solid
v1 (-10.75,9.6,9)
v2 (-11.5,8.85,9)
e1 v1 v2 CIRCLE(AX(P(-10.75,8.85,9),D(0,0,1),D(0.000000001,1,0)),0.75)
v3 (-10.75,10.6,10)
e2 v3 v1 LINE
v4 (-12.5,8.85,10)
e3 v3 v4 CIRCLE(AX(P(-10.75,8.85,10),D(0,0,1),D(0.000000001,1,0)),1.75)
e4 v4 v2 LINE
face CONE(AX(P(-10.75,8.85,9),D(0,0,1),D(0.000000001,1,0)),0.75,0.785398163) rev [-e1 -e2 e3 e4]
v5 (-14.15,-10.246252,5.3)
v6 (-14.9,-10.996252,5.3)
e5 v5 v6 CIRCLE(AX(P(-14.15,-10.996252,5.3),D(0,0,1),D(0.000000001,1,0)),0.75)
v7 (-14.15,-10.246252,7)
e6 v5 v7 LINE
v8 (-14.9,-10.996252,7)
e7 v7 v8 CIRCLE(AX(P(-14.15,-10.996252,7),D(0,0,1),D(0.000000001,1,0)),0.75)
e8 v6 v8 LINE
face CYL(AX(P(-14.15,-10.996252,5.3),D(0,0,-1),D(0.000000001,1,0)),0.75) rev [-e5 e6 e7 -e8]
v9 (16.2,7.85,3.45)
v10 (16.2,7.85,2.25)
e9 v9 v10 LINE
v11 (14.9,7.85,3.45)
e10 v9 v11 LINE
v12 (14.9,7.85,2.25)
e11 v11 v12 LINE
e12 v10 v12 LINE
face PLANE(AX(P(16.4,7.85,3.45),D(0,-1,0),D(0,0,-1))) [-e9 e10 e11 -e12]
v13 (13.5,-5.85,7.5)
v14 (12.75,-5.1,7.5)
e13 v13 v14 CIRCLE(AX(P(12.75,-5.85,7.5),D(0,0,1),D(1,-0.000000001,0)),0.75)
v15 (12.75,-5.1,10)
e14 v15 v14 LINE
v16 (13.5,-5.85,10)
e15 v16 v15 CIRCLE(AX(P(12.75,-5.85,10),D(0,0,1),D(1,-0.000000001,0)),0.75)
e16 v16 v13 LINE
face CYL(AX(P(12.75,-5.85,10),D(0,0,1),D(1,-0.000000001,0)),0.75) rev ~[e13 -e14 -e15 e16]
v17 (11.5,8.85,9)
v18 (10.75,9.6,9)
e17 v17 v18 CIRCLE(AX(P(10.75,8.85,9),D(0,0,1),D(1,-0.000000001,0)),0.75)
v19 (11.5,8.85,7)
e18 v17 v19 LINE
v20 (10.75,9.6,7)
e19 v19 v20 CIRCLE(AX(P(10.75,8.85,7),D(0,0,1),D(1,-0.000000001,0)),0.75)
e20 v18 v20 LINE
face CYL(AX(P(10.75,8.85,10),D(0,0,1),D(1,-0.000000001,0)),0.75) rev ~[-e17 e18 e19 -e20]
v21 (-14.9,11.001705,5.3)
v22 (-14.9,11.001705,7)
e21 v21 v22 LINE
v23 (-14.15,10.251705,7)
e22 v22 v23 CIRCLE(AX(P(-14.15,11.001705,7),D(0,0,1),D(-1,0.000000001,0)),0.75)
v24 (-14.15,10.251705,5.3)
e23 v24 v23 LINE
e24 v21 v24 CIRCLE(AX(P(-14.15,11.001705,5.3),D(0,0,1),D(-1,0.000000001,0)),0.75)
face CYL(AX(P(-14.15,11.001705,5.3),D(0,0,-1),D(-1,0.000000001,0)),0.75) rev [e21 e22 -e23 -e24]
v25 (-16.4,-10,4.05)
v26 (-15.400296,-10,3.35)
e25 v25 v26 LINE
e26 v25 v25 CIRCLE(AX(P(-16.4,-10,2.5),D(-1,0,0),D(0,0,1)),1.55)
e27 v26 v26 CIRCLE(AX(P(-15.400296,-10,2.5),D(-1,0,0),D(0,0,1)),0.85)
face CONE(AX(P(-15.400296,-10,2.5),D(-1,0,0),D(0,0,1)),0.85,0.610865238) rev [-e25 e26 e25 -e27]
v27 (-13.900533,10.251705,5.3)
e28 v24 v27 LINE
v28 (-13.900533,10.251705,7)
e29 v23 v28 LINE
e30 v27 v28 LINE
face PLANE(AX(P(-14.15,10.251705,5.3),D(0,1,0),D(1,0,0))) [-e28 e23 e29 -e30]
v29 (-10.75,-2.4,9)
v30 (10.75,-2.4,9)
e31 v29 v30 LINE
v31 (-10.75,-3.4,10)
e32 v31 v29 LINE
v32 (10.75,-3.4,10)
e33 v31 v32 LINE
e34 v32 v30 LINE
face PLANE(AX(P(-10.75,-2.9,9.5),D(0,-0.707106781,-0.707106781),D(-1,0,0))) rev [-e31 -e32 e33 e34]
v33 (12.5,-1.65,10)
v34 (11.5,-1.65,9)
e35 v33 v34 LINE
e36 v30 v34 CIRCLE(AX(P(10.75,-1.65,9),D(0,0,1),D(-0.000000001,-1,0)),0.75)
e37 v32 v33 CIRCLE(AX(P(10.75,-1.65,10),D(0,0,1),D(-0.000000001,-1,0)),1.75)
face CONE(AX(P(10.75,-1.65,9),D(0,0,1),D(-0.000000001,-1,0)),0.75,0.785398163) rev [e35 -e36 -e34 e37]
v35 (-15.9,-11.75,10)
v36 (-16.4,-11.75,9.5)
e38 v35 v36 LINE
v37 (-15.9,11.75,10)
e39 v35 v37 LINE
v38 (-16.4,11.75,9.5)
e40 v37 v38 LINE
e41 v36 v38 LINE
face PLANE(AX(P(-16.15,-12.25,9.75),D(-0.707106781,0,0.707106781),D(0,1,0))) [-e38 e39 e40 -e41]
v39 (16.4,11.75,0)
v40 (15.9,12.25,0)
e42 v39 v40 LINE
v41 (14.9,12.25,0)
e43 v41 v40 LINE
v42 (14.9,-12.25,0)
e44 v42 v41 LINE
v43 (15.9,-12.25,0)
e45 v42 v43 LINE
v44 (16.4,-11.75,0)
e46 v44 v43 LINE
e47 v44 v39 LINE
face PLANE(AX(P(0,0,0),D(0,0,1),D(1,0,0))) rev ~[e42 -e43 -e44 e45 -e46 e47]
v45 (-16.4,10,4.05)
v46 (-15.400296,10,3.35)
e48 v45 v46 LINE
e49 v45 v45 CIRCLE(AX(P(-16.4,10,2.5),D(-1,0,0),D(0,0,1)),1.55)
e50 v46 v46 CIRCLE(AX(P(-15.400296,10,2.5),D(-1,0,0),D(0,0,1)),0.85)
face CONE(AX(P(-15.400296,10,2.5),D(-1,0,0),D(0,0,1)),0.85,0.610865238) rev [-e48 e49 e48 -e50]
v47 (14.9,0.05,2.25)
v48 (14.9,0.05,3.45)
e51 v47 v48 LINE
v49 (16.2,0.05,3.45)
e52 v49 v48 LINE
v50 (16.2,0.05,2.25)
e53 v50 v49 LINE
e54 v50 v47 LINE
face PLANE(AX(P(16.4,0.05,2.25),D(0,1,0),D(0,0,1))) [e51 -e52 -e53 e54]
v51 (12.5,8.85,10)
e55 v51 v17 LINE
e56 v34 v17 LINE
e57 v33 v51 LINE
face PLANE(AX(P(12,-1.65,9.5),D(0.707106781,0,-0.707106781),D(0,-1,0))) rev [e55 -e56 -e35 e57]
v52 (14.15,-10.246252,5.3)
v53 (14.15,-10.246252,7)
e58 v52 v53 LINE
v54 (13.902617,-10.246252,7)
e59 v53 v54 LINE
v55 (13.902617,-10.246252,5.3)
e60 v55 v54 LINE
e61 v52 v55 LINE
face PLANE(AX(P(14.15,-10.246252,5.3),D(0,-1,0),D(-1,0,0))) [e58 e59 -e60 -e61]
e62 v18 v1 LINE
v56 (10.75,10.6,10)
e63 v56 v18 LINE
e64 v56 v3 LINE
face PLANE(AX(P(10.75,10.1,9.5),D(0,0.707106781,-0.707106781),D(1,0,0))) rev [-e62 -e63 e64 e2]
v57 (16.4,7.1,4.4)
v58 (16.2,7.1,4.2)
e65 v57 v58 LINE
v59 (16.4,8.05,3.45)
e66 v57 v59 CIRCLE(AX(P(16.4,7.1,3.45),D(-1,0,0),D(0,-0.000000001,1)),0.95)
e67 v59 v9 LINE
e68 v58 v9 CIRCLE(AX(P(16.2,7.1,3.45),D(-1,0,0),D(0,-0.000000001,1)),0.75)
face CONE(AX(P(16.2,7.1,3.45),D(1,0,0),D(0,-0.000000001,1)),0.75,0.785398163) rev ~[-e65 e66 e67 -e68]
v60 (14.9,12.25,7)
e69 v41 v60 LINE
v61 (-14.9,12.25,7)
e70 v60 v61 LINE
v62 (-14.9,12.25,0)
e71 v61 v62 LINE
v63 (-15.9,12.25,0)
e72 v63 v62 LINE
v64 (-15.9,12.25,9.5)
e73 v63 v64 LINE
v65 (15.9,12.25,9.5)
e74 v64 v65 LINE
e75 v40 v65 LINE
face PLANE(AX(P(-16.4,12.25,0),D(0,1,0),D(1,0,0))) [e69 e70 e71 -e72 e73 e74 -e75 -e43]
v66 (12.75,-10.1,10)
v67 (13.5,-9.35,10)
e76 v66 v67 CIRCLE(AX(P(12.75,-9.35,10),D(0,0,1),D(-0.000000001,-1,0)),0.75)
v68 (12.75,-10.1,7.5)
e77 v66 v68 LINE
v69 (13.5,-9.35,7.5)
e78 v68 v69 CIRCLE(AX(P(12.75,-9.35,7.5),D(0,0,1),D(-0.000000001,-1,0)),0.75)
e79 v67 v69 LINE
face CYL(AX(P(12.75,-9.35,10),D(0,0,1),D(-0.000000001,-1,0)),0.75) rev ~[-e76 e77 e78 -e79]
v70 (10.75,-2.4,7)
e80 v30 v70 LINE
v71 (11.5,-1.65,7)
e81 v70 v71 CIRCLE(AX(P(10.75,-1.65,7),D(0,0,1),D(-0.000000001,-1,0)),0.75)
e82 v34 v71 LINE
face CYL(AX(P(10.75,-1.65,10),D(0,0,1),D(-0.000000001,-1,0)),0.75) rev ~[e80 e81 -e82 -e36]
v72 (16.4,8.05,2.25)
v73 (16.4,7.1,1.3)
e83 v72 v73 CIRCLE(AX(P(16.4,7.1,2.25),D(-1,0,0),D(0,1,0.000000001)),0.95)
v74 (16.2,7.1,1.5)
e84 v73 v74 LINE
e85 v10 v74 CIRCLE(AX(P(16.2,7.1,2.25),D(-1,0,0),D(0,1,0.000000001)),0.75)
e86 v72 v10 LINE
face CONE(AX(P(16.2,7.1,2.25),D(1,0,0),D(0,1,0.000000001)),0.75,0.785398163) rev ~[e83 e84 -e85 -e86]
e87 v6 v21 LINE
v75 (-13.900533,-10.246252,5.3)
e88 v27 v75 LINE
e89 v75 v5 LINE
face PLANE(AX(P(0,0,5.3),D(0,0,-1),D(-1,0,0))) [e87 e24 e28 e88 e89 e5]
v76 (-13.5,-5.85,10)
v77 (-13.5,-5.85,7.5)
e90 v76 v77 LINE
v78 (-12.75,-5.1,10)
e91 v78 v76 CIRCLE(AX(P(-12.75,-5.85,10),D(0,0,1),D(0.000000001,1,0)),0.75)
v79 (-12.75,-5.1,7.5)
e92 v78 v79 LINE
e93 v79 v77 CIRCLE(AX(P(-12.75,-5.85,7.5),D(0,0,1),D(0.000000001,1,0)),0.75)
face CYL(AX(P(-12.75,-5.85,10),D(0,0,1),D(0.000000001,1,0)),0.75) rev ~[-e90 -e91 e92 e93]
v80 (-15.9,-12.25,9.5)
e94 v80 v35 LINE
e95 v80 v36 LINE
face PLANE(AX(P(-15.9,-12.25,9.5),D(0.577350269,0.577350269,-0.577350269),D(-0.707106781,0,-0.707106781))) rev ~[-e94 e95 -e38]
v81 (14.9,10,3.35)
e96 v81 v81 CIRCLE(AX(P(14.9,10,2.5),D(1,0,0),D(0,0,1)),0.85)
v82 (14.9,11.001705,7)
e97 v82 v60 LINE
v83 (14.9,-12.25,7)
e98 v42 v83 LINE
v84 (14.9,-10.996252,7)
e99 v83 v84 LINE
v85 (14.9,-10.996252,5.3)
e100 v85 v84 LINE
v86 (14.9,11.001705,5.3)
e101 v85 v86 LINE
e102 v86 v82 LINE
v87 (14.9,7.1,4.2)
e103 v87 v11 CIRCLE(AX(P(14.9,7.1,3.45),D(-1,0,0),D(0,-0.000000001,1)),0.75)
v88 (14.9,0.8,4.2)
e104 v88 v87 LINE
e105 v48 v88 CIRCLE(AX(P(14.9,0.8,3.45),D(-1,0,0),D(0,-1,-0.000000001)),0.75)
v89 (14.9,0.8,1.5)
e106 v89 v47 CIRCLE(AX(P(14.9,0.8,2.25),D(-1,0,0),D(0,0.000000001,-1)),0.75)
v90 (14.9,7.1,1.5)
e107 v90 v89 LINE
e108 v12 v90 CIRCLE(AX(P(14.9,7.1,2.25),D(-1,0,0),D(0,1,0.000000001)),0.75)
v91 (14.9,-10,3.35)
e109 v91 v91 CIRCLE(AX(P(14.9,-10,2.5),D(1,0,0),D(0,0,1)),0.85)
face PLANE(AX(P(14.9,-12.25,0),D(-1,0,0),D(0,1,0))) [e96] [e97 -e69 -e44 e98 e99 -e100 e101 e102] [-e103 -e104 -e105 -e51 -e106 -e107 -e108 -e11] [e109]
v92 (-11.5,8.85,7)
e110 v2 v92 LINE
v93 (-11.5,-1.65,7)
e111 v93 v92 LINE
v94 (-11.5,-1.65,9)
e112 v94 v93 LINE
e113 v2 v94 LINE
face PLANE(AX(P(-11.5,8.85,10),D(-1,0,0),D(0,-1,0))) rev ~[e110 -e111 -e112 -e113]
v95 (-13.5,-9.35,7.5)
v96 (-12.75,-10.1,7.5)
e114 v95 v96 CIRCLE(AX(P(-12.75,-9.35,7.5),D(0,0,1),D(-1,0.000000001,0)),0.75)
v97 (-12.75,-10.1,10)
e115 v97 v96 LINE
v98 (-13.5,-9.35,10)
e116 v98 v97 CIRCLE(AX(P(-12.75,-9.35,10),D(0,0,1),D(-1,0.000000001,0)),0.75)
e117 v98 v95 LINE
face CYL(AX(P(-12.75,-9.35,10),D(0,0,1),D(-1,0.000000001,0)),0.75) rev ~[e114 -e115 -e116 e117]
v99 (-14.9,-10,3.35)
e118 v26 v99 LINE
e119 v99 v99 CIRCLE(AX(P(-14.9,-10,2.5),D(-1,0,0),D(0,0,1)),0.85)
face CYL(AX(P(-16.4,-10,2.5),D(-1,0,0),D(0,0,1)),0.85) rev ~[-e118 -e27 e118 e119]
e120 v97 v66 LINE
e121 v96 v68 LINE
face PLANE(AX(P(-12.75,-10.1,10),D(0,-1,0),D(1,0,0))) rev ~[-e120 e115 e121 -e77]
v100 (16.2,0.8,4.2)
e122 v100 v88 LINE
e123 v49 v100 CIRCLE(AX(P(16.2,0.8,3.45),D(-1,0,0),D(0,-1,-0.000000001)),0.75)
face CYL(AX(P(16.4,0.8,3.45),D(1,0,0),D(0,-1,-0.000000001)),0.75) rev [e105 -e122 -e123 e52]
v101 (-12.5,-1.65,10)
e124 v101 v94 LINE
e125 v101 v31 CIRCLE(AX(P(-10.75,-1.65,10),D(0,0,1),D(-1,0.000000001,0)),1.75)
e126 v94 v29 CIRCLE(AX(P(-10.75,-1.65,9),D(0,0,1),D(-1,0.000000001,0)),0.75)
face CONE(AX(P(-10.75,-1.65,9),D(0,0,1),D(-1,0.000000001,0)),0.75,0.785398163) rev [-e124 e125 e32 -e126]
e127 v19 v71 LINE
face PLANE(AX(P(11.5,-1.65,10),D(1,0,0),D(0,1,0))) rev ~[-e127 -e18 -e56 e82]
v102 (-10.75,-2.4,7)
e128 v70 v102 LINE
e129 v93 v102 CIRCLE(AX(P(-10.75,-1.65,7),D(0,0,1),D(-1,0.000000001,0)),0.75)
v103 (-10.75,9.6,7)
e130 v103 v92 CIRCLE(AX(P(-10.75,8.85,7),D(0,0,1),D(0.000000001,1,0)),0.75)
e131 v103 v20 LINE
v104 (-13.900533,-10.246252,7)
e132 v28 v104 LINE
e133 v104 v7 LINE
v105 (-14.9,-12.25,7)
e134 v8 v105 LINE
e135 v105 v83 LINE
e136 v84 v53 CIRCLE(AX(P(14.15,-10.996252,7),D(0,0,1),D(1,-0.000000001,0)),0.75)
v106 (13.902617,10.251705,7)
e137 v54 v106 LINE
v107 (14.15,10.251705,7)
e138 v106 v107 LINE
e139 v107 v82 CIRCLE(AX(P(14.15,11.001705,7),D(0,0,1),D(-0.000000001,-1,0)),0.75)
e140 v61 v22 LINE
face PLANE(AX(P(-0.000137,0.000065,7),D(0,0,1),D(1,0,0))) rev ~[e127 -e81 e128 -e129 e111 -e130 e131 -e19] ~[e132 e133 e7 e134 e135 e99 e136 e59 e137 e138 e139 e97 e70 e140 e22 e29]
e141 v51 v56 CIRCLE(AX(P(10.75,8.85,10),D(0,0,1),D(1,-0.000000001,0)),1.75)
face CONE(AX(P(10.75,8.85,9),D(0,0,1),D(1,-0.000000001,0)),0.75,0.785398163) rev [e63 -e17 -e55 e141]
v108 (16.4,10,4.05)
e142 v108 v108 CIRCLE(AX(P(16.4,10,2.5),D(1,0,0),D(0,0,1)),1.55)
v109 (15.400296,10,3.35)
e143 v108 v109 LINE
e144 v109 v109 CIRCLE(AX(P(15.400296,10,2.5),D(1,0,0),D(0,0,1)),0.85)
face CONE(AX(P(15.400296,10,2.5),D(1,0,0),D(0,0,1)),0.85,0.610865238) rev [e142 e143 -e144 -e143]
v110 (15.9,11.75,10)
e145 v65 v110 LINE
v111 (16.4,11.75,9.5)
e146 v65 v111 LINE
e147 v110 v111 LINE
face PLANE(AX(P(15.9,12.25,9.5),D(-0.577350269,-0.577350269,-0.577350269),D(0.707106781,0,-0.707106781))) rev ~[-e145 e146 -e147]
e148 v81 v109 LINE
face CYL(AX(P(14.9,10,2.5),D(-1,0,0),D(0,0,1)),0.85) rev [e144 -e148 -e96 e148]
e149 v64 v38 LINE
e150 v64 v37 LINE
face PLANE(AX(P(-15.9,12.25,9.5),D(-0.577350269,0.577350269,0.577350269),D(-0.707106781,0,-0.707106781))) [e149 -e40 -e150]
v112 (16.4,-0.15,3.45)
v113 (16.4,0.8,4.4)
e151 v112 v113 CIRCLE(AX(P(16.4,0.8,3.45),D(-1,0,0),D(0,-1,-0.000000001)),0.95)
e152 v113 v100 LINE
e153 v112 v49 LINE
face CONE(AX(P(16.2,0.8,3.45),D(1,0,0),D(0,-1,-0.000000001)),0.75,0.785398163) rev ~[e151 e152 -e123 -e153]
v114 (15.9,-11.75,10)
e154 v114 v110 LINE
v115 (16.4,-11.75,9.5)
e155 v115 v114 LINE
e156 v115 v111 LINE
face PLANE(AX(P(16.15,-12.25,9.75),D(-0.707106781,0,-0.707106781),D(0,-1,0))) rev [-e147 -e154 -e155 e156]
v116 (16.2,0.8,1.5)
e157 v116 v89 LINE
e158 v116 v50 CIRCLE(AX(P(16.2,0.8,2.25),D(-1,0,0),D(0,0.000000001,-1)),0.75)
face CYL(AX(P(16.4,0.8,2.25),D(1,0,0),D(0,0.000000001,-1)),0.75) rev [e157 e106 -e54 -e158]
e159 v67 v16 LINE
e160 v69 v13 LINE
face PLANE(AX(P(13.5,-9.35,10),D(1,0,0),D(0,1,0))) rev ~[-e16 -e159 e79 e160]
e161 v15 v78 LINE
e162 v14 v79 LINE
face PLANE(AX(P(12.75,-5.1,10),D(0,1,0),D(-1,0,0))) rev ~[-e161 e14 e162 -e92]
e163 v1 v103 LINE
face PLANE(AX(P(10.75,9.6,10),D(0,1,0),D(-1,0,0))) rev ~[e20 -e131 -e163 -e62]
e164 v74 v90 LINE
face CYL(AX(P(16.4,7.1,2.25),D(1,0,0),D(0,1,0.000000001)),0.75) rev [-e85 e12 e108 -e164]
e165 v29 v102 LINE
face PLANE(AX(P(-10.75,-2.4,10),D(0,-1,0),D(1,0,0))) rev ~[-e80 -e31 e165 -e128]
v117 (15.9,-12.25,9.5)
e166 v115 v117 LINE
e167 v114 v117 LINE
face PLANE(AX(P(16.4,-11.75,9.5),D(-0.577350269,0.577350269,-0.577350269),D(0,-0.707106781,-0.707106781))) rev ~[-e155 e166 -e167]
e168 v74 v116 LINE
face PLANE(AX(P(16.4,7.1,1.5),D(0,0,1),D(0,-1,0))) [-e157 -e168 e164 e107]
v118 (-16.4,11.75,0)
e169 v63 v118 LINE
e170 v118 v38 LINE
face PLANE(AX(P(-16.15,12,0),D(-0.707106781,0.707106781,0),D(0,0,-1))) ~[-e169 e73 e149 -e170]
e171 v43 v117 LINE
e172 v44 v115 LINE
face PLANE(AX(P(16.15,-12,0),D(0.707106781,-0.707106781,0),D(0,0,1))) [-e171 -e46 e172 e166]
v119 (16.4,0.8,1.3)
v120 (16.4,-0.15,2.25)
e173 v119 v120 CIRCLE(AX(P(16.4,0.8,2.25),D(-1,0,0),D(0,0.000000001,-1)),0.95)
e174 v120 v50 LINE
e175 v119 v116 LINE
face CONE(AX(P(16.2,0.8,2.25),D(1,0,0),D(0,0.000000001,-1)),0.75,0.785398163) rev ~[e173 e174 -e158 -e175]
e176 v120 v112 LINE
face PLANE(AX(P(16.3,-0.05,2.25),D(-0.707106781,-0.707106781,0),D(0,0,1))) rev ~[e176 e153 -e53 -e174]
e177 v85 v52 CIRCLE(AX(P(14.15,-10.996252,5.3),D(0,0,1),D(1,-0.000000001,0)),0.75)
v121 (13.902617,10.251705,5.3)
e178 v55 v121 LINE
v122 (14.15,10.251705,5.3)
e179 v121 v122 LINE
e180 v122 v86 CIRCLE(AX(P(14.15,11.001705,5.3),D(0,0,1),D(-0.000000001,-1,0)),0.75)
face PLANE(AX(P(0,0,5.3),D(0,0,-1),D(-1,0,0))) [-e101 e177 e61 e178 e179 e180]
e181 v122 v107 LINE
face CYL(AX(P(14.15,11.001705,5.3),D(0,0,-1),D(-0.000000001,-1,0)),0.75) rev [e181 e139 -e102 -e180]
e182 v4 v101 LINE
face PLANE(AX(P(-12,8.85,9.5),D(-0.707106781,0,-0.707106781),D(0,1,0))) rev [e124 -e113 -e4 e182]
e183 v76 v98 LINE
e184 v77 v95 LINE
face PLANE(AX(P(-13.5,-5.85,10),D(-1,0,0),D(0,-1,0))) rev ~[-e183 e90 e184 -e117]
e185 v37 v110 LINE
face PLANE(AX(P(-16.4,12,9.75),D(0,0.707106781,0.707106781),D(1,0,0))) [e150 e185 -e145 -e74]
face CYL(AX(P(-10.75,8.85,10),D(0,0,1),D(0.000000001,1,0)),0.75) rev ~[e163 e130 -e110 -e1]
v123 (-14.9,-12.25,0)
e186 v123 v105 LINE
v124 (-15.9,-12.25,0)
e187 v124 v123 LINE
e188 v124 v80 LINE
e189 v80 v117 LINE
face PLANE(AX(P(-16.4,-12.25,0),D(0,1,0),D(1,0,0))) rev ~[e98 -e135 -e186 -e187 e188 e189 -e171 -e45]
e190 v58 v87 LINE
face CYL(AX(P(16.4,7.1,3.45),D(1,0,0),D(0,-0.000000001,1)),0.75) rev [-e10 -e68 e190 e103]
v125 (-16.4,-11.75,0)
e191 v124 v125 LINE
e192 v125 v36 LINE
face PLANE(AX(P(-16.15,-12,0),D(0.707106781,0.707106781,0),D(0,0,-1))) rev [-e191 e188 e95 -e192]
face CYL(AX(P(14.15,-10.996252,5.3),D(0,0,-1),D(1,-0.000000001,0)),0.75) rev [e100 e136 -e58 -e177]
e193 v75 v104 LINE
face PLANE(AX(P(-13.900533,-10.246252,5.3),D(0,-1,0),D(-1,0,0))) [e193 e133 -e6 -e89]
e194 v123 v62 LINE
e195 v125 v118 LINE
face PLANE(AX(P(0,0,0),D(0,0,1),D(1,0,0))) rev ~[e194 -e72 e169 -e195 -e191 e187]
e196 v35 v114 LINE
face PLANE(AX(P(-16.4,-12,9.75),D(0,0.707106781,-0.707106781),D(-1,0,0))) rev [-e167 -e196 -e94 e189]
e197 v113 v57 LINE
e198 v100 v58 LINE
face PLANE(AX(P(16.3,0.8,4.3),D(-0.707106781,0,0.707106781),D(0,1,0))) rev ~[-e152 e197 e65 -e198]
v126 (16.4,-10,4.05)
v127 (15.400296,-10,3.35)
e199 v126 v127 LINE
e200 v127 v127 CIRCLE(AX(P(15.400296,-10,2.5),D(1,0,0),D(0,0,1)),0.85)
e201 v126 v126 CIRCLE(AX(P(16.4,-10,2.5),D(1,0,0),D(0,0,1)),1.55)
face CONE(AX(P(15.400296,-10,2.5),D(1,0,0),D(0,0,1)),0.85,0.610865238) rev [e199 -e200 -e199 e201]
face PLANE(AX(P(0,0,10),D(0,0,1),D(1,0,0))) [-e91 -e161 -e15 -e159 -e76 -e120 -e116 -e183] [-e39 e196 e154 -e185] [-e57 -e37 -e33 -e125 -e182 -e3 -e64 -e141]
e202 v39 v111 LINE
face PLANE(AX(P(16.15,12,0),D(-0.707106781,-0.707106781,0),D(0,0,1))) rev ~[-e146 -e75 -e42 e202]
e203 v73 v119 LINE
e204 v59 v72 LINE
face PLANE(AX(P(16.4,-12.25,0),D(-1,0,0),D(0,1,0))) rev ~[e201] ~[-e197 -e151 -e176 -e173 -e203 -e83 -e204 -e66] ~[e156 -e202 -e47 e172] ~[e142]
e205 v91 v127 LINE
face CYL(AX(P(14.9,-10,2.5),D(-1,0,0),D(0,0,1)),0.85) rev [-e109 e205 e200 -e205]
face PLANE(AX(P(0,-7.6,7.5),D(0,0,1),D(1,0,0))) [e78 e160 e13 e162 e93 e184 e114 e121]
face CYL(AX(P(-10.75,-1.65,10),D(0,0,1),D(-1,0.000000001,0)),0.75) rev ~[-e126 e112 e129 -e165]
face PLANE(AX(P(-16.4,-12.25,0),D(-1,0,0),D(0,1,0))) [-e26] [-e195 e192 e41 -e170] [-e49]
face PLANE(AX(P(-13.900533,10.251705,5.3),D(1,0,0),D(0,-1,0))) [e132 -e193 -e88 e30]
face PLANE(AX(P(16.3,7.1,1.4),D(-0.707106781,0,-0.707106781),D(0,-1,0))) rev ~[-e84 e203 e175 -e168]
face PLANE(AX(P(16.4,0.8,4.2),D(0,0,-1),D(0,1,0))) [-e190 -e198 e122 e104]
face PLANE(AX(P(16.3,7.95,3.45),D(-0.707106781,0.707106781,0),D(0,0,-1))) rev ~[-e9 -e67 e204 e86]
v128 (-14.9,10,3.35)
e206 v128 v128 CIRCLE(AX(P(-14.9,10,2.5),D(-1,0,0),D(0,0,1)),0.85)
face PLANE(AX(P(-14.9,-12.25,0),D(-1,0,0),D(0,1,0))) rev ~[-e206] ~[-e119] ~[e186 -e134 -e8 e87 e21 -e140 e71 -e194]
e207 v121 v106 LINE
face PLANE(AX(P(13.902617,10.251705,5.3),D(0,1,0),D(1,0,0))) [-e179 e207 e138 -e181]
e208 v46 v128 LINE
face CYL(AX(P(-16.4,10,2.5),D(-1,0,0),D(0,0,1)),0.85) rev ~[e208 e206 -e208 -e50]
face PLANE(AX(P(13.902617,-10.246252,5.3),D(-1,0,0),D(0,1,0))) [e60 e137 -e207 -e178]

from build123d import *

# Parameters (mm, degrees)
SKETCH1_W           = 32.8
SKETCH1_H           = 24.5
BOSS_EXTRUDE1_DEPTH = 10
SKETCH3_W           = 29.8
SKETCH3_H           = 24.5
CUT_EXTRUDE2_DEPTH  = 5.3
CUT_EXTRUDE3_DEPTH  = 23.782065315
CUT_EXTRUDE4_DEPTH  = 1.5
CHAMFER1_SIZE       = 1
CHAMFER2_SIZE       = 0.2
CHAMFER3_SIZE       = 0.5
CUT_EXTRUDE6_DEPTH  = 2.5
SKETCH10_R          = 0.85
CUT_EXTRUDE7_DEPTH  = 1.5
CUT_EXTRUDE8_START  = -1.5
SKETCH9_R           = 0.85
CUT_EXTRUDE8_DEPTH  = 1.5
CHAMFER7_SIZE       = 0.7
CHAMFER7_SIZE2      = 0.999703605
CHAMFER8_SIZE       = 0.7
CHAMFER8_SIZE2      = 0.999703605
CUT_EXTRUDE11_DEPTH = 1.7


with BuildPart() as part:
    # Sketch1 → Boss-Extrude1 (new body)
    with BuildSketch(Plane.XY):
        Rectangle(SKETCH1_W, SKETCH1_H)
    extrude(amount=BOSS_EXTRUDE1_DEPTH)

    # Sketch3 → Cut-Extrude2 (cut)
    with BuildSketch(Plane(origin=(0, 0, 0), x_dir=(-1, 0, 0), z_dir=(0, 0, -1))):
        Rectangle(SKETCH3_W, SKETCH3_H)
    extrude(amount=-CUT_EXTRUDE2_DEPTH, mode=Mode.SUBTRACT)

    # Sketch4 → Cut-Extrude3 (cut, through all)
    with BuildSketch(Plane.XY.offset(10)):
        with BuildLine():
            Line((-10.75, -2.4), (10.75, -2.4))
            ThreePointArc((10.75, -2.4), (11.280330086, -2.180330086), (11.5, -1.65))
            Line((11.5, -1.65), (11.5, 8.85))
            ThreePointArc((11.5, 8.85), (11.280330086, 9.380330086), (10.75, 9.6))
            Line((10.75, 9.6), (-10.75, 9.6))
            ThreePointArc((-10.75, 9.6), (-11.280330086, 9.380330086), (-11.5, 8.85))
            Line((-11.5, 8.85), (-11.5, -1.65))
            ThreePointArc((-11.5, -1.65), (-11.280330086, -2.180330086), (-10.75, -2.4))
        make_face()
    extrude(amount=-CUT_EXTRUDE3_DEPTH, mode=Mode.SUBTRACT)

    # Sketch5 → Cut-Extrude4 (cut)
    with BuildSketch(Plane(origin=(16.4, 0, 0), x_dir=(0, 0, -1), z_dir=(1, 0, 0))):
        with BuildLine():
            Line((-3.45, 7.85), (-2.25, 7.85))
            ThreePointArc((-2.25, 7.85), (-1.719669914, 7.630330086), (-1.5, 7.1))
            Line((-1.5, 7.1), (-1.5, 0.8))
            ThreePointArc((-1.5, 0.8), (-1.719669914, 0.269669914), (-2.25, 0.05))
            Line((-2.25, 0.05), (-3.45, 0.05))
            ThreePointArc((-3.45, 0.05), (-3.980330086, 0.269669914), (-4.2, 0.8))
            Line((-4.2, 0.8), (-4.2, 7.1))
            ThreePointArc((-4.2, 7.1), (-3.980330086, 7.630330086), (-3.45, 7.85))
        make_face()
    extrude(amount=-CUT_EXTRUDE4_DEPTH, mode=Mode.SUBTRACT)

    # Chamfer1
    chamfer1_edges = [part.edges().sort_by_distance(p)[0] for p in [
        (-11.280330086, -2.180330086, 10),
        (0, -2.4, 10),
        (11.280330086, -2.180330086, 10),
        (11.5, 3.6, 10),
        (11.280330086, 9.380330086, 10),
        (0, 9.6, 10),
        (-11.280330086, 9.380330086, 10),
        (-11.5, 3.6, 10),
    ]]
    chamfer(chamfer1_edges, length=CHAMFER1_SIZE)

    # Chamfer2
    chamfer2_edges = [part.edges().sort_by_distance(p)[0] for p in [
        (16.4, 7.85, 2.85),
        (16.4, 3.95, 1.5),
        (16.4, 7.630330086, 3.980330086),
        (16.4, 3.95, 4.2),
        (16.4, 0.269669914, 3.980330086),
        (16.4, 0.05, 2.85),
        (16.4, 0.269669914, 1.719669914),
        (16.4, 7.630330086, 1.719669914),
    ]]
    chamfer(chamfer2_edges, length=CHAMFER2_SIZE)

    # Chamfer3
    chamfer3_edges = [part.edges().sort_by_distance(p)[0] for p in [
        (-16.4, 0, 10),
        (0, -12.25, 10),
        (16.4, 0, 10),
        (0, 12.25, 10),
        (16.4, -12.25, 5),
        (-16.4, -12.25, 5),
        (-16.4, 12.25, 5),
        (16.4, 12.25, 5),
    ]]
    chamfer(chamfer3_edges, length=CHAMFER3_SIZE)

    # Sketch8 → Cut-Extrude6 (cut)
    with BuildSketch(Plane.XY.offset(10)):
        with BuildLine():
            Line((-12.75, -10.1), (12.75, -10.1))
            ThreePointArc((12.75, -10.1), (13.280330086, -9.880330086), (13.5, -9.35))
            Line((13.5, -9.35), (13.5, -5.85))
            ThreePointArc((13.5, -5.85), (13.280330086, -5.319669914), (12.75, -5.1))
            Line((12.75, -5.1), (-12.75, -5.1))
            ThreePointArc((-12.75, -5.1), (-13.280330086, -5.319669914), (-13.5, -5.85))
            Line((-13.5, -5.85), (-13.5, -9.35))
            ThreePointArc((-13.5, -9.35), (-13.280330086, -9.880330086), (-12.75, -10.1))
        make_face()
    extrude(amount=-CUT_EXTRUDE6_DEPTH, mode=Mode.SUBTRACT)

    # Sketch10 → Cut-Extrude7 (cut)
    with BuildSketch(Plane.ZY.offset(16.4)):
        with Locations((2.5, 10)):
            Circle(SKETCH10_R)
        with Locations((2.5, -10)):
            Circle(SKETCH10_R)
    extrude(amount=-CUT_EXTRUDE7_DEPTH, mode=Mode.SUBTRACT)

    # Sketch9 → Cut-Extrude8 (cut)
    with BuildSketch(Plane(origin=(16.4, 0, 0), x_dir=(0, 0, -1), z_dir=(1, 0, 0)).offset(CUT_EXTRUDE8_START)):
        with Locations(Location((-2.5, -10, 0), (0, 0, 180))):
            Circle(SKETCH9_R)
        with Locations(Location((-2.5, 10, 0), (0, 0, 180))):
            Circle(SKETCH9_R)
    extrude(amount=CUT_EXTRUDE8_DEPTH, mode=Mode.SUBTRACT)

    # Chamfer7
    chamfer7_edges = [part.edges().sort_by_distance(p)[0] for p in [
        (-16.4, 10, 1.65),
        (-16.4, -10, 1.65),
    ]]
    chamfer7_side = [part.faces().sort_by_distance(p)[0] for p in [
        (-16.4, 0, 4.796701497),
    ]]
    chamfer(chamfer7_edges, length=CHAMFER7_SIZE, length2=CHAMFER7_SIZE2, reference=chamfer7_side[0])

    # Chamfer8
    chamfer8_edges = [part.edges().sort_by_distance(p)[0] for p in [
        (16.4, -10, 1.65),
        (16.4, 10, 1.65),
    ]]
    chamfer8_side = [part.faces().sort_by_distance(p)[0] for p in [
        (16.4, -0.501630017, 5.043922739),
    ]]
    chamfer(chamfer8_edges, length=CHAMFER8_SIZE, length2=CHAMFER8_SIZE2, reference=chamfer8_side[0])

    # Sketch15 → Cut-Extrude11 (cut)
    with BuildSketch(Plane(origin=(0, 0, 5.3), x_dir=(-1, 0, 0), z_dir=(0, 0, -1))):
        with BuildLine():
            Line((-14.9, 12.25), (14.9, 12.25))
            Line((14.9, 12.25), (14.9, 11.001705033))
            ThreePointArc((14.9, 11.001705033), (14.680330086, 10.471374947), (14.15, 10.251705033))
            Line((14.15, 10.251705033), (13.900532635, 10.251705033))
            Line((13.900532635, 10.251705033), (13.900532635, -10.246251607))
            Line((13.900532635, -10.246251607), (14.15, -10.246251607))
            ThreePointArc((14.15, -10.246251607), (14.680330086, -10.465921521), (14.9, -10.996251607))
            Line((14.9, -10.996251607), (14.9, -12.25))
            Line((14.9, -12.25), (-14.9, -12.25))
            Line((-14.9, -12.25), (-14.9, -10.996251607))
            ThreePointArc((-14.9, -10.996251607), (-14.680330086, -10.465921521), (-14.15, -10.246251607))
            Line((-14.15, -10.246251607), (-13.902617277, -10.246251607))
            Line((-13.902617277, -10.246251607), (-13.902617277, 10.251705033))
            Line((-13.902617277, 10.251705033), (-14.15, 10.251705033))
            ThreePointArc((-14.15, 10.251705033), (-14.680330086, 10.471374947), (-14.9, 11.001705033))
            Line((-14.9, 11.001705033), (-14.9, 12.25))
        make_face()
    extrude(amount=-CUT_EXTRUDE11_DEPTH, mode=Mode.SUBTRACT)


solid = part.part
